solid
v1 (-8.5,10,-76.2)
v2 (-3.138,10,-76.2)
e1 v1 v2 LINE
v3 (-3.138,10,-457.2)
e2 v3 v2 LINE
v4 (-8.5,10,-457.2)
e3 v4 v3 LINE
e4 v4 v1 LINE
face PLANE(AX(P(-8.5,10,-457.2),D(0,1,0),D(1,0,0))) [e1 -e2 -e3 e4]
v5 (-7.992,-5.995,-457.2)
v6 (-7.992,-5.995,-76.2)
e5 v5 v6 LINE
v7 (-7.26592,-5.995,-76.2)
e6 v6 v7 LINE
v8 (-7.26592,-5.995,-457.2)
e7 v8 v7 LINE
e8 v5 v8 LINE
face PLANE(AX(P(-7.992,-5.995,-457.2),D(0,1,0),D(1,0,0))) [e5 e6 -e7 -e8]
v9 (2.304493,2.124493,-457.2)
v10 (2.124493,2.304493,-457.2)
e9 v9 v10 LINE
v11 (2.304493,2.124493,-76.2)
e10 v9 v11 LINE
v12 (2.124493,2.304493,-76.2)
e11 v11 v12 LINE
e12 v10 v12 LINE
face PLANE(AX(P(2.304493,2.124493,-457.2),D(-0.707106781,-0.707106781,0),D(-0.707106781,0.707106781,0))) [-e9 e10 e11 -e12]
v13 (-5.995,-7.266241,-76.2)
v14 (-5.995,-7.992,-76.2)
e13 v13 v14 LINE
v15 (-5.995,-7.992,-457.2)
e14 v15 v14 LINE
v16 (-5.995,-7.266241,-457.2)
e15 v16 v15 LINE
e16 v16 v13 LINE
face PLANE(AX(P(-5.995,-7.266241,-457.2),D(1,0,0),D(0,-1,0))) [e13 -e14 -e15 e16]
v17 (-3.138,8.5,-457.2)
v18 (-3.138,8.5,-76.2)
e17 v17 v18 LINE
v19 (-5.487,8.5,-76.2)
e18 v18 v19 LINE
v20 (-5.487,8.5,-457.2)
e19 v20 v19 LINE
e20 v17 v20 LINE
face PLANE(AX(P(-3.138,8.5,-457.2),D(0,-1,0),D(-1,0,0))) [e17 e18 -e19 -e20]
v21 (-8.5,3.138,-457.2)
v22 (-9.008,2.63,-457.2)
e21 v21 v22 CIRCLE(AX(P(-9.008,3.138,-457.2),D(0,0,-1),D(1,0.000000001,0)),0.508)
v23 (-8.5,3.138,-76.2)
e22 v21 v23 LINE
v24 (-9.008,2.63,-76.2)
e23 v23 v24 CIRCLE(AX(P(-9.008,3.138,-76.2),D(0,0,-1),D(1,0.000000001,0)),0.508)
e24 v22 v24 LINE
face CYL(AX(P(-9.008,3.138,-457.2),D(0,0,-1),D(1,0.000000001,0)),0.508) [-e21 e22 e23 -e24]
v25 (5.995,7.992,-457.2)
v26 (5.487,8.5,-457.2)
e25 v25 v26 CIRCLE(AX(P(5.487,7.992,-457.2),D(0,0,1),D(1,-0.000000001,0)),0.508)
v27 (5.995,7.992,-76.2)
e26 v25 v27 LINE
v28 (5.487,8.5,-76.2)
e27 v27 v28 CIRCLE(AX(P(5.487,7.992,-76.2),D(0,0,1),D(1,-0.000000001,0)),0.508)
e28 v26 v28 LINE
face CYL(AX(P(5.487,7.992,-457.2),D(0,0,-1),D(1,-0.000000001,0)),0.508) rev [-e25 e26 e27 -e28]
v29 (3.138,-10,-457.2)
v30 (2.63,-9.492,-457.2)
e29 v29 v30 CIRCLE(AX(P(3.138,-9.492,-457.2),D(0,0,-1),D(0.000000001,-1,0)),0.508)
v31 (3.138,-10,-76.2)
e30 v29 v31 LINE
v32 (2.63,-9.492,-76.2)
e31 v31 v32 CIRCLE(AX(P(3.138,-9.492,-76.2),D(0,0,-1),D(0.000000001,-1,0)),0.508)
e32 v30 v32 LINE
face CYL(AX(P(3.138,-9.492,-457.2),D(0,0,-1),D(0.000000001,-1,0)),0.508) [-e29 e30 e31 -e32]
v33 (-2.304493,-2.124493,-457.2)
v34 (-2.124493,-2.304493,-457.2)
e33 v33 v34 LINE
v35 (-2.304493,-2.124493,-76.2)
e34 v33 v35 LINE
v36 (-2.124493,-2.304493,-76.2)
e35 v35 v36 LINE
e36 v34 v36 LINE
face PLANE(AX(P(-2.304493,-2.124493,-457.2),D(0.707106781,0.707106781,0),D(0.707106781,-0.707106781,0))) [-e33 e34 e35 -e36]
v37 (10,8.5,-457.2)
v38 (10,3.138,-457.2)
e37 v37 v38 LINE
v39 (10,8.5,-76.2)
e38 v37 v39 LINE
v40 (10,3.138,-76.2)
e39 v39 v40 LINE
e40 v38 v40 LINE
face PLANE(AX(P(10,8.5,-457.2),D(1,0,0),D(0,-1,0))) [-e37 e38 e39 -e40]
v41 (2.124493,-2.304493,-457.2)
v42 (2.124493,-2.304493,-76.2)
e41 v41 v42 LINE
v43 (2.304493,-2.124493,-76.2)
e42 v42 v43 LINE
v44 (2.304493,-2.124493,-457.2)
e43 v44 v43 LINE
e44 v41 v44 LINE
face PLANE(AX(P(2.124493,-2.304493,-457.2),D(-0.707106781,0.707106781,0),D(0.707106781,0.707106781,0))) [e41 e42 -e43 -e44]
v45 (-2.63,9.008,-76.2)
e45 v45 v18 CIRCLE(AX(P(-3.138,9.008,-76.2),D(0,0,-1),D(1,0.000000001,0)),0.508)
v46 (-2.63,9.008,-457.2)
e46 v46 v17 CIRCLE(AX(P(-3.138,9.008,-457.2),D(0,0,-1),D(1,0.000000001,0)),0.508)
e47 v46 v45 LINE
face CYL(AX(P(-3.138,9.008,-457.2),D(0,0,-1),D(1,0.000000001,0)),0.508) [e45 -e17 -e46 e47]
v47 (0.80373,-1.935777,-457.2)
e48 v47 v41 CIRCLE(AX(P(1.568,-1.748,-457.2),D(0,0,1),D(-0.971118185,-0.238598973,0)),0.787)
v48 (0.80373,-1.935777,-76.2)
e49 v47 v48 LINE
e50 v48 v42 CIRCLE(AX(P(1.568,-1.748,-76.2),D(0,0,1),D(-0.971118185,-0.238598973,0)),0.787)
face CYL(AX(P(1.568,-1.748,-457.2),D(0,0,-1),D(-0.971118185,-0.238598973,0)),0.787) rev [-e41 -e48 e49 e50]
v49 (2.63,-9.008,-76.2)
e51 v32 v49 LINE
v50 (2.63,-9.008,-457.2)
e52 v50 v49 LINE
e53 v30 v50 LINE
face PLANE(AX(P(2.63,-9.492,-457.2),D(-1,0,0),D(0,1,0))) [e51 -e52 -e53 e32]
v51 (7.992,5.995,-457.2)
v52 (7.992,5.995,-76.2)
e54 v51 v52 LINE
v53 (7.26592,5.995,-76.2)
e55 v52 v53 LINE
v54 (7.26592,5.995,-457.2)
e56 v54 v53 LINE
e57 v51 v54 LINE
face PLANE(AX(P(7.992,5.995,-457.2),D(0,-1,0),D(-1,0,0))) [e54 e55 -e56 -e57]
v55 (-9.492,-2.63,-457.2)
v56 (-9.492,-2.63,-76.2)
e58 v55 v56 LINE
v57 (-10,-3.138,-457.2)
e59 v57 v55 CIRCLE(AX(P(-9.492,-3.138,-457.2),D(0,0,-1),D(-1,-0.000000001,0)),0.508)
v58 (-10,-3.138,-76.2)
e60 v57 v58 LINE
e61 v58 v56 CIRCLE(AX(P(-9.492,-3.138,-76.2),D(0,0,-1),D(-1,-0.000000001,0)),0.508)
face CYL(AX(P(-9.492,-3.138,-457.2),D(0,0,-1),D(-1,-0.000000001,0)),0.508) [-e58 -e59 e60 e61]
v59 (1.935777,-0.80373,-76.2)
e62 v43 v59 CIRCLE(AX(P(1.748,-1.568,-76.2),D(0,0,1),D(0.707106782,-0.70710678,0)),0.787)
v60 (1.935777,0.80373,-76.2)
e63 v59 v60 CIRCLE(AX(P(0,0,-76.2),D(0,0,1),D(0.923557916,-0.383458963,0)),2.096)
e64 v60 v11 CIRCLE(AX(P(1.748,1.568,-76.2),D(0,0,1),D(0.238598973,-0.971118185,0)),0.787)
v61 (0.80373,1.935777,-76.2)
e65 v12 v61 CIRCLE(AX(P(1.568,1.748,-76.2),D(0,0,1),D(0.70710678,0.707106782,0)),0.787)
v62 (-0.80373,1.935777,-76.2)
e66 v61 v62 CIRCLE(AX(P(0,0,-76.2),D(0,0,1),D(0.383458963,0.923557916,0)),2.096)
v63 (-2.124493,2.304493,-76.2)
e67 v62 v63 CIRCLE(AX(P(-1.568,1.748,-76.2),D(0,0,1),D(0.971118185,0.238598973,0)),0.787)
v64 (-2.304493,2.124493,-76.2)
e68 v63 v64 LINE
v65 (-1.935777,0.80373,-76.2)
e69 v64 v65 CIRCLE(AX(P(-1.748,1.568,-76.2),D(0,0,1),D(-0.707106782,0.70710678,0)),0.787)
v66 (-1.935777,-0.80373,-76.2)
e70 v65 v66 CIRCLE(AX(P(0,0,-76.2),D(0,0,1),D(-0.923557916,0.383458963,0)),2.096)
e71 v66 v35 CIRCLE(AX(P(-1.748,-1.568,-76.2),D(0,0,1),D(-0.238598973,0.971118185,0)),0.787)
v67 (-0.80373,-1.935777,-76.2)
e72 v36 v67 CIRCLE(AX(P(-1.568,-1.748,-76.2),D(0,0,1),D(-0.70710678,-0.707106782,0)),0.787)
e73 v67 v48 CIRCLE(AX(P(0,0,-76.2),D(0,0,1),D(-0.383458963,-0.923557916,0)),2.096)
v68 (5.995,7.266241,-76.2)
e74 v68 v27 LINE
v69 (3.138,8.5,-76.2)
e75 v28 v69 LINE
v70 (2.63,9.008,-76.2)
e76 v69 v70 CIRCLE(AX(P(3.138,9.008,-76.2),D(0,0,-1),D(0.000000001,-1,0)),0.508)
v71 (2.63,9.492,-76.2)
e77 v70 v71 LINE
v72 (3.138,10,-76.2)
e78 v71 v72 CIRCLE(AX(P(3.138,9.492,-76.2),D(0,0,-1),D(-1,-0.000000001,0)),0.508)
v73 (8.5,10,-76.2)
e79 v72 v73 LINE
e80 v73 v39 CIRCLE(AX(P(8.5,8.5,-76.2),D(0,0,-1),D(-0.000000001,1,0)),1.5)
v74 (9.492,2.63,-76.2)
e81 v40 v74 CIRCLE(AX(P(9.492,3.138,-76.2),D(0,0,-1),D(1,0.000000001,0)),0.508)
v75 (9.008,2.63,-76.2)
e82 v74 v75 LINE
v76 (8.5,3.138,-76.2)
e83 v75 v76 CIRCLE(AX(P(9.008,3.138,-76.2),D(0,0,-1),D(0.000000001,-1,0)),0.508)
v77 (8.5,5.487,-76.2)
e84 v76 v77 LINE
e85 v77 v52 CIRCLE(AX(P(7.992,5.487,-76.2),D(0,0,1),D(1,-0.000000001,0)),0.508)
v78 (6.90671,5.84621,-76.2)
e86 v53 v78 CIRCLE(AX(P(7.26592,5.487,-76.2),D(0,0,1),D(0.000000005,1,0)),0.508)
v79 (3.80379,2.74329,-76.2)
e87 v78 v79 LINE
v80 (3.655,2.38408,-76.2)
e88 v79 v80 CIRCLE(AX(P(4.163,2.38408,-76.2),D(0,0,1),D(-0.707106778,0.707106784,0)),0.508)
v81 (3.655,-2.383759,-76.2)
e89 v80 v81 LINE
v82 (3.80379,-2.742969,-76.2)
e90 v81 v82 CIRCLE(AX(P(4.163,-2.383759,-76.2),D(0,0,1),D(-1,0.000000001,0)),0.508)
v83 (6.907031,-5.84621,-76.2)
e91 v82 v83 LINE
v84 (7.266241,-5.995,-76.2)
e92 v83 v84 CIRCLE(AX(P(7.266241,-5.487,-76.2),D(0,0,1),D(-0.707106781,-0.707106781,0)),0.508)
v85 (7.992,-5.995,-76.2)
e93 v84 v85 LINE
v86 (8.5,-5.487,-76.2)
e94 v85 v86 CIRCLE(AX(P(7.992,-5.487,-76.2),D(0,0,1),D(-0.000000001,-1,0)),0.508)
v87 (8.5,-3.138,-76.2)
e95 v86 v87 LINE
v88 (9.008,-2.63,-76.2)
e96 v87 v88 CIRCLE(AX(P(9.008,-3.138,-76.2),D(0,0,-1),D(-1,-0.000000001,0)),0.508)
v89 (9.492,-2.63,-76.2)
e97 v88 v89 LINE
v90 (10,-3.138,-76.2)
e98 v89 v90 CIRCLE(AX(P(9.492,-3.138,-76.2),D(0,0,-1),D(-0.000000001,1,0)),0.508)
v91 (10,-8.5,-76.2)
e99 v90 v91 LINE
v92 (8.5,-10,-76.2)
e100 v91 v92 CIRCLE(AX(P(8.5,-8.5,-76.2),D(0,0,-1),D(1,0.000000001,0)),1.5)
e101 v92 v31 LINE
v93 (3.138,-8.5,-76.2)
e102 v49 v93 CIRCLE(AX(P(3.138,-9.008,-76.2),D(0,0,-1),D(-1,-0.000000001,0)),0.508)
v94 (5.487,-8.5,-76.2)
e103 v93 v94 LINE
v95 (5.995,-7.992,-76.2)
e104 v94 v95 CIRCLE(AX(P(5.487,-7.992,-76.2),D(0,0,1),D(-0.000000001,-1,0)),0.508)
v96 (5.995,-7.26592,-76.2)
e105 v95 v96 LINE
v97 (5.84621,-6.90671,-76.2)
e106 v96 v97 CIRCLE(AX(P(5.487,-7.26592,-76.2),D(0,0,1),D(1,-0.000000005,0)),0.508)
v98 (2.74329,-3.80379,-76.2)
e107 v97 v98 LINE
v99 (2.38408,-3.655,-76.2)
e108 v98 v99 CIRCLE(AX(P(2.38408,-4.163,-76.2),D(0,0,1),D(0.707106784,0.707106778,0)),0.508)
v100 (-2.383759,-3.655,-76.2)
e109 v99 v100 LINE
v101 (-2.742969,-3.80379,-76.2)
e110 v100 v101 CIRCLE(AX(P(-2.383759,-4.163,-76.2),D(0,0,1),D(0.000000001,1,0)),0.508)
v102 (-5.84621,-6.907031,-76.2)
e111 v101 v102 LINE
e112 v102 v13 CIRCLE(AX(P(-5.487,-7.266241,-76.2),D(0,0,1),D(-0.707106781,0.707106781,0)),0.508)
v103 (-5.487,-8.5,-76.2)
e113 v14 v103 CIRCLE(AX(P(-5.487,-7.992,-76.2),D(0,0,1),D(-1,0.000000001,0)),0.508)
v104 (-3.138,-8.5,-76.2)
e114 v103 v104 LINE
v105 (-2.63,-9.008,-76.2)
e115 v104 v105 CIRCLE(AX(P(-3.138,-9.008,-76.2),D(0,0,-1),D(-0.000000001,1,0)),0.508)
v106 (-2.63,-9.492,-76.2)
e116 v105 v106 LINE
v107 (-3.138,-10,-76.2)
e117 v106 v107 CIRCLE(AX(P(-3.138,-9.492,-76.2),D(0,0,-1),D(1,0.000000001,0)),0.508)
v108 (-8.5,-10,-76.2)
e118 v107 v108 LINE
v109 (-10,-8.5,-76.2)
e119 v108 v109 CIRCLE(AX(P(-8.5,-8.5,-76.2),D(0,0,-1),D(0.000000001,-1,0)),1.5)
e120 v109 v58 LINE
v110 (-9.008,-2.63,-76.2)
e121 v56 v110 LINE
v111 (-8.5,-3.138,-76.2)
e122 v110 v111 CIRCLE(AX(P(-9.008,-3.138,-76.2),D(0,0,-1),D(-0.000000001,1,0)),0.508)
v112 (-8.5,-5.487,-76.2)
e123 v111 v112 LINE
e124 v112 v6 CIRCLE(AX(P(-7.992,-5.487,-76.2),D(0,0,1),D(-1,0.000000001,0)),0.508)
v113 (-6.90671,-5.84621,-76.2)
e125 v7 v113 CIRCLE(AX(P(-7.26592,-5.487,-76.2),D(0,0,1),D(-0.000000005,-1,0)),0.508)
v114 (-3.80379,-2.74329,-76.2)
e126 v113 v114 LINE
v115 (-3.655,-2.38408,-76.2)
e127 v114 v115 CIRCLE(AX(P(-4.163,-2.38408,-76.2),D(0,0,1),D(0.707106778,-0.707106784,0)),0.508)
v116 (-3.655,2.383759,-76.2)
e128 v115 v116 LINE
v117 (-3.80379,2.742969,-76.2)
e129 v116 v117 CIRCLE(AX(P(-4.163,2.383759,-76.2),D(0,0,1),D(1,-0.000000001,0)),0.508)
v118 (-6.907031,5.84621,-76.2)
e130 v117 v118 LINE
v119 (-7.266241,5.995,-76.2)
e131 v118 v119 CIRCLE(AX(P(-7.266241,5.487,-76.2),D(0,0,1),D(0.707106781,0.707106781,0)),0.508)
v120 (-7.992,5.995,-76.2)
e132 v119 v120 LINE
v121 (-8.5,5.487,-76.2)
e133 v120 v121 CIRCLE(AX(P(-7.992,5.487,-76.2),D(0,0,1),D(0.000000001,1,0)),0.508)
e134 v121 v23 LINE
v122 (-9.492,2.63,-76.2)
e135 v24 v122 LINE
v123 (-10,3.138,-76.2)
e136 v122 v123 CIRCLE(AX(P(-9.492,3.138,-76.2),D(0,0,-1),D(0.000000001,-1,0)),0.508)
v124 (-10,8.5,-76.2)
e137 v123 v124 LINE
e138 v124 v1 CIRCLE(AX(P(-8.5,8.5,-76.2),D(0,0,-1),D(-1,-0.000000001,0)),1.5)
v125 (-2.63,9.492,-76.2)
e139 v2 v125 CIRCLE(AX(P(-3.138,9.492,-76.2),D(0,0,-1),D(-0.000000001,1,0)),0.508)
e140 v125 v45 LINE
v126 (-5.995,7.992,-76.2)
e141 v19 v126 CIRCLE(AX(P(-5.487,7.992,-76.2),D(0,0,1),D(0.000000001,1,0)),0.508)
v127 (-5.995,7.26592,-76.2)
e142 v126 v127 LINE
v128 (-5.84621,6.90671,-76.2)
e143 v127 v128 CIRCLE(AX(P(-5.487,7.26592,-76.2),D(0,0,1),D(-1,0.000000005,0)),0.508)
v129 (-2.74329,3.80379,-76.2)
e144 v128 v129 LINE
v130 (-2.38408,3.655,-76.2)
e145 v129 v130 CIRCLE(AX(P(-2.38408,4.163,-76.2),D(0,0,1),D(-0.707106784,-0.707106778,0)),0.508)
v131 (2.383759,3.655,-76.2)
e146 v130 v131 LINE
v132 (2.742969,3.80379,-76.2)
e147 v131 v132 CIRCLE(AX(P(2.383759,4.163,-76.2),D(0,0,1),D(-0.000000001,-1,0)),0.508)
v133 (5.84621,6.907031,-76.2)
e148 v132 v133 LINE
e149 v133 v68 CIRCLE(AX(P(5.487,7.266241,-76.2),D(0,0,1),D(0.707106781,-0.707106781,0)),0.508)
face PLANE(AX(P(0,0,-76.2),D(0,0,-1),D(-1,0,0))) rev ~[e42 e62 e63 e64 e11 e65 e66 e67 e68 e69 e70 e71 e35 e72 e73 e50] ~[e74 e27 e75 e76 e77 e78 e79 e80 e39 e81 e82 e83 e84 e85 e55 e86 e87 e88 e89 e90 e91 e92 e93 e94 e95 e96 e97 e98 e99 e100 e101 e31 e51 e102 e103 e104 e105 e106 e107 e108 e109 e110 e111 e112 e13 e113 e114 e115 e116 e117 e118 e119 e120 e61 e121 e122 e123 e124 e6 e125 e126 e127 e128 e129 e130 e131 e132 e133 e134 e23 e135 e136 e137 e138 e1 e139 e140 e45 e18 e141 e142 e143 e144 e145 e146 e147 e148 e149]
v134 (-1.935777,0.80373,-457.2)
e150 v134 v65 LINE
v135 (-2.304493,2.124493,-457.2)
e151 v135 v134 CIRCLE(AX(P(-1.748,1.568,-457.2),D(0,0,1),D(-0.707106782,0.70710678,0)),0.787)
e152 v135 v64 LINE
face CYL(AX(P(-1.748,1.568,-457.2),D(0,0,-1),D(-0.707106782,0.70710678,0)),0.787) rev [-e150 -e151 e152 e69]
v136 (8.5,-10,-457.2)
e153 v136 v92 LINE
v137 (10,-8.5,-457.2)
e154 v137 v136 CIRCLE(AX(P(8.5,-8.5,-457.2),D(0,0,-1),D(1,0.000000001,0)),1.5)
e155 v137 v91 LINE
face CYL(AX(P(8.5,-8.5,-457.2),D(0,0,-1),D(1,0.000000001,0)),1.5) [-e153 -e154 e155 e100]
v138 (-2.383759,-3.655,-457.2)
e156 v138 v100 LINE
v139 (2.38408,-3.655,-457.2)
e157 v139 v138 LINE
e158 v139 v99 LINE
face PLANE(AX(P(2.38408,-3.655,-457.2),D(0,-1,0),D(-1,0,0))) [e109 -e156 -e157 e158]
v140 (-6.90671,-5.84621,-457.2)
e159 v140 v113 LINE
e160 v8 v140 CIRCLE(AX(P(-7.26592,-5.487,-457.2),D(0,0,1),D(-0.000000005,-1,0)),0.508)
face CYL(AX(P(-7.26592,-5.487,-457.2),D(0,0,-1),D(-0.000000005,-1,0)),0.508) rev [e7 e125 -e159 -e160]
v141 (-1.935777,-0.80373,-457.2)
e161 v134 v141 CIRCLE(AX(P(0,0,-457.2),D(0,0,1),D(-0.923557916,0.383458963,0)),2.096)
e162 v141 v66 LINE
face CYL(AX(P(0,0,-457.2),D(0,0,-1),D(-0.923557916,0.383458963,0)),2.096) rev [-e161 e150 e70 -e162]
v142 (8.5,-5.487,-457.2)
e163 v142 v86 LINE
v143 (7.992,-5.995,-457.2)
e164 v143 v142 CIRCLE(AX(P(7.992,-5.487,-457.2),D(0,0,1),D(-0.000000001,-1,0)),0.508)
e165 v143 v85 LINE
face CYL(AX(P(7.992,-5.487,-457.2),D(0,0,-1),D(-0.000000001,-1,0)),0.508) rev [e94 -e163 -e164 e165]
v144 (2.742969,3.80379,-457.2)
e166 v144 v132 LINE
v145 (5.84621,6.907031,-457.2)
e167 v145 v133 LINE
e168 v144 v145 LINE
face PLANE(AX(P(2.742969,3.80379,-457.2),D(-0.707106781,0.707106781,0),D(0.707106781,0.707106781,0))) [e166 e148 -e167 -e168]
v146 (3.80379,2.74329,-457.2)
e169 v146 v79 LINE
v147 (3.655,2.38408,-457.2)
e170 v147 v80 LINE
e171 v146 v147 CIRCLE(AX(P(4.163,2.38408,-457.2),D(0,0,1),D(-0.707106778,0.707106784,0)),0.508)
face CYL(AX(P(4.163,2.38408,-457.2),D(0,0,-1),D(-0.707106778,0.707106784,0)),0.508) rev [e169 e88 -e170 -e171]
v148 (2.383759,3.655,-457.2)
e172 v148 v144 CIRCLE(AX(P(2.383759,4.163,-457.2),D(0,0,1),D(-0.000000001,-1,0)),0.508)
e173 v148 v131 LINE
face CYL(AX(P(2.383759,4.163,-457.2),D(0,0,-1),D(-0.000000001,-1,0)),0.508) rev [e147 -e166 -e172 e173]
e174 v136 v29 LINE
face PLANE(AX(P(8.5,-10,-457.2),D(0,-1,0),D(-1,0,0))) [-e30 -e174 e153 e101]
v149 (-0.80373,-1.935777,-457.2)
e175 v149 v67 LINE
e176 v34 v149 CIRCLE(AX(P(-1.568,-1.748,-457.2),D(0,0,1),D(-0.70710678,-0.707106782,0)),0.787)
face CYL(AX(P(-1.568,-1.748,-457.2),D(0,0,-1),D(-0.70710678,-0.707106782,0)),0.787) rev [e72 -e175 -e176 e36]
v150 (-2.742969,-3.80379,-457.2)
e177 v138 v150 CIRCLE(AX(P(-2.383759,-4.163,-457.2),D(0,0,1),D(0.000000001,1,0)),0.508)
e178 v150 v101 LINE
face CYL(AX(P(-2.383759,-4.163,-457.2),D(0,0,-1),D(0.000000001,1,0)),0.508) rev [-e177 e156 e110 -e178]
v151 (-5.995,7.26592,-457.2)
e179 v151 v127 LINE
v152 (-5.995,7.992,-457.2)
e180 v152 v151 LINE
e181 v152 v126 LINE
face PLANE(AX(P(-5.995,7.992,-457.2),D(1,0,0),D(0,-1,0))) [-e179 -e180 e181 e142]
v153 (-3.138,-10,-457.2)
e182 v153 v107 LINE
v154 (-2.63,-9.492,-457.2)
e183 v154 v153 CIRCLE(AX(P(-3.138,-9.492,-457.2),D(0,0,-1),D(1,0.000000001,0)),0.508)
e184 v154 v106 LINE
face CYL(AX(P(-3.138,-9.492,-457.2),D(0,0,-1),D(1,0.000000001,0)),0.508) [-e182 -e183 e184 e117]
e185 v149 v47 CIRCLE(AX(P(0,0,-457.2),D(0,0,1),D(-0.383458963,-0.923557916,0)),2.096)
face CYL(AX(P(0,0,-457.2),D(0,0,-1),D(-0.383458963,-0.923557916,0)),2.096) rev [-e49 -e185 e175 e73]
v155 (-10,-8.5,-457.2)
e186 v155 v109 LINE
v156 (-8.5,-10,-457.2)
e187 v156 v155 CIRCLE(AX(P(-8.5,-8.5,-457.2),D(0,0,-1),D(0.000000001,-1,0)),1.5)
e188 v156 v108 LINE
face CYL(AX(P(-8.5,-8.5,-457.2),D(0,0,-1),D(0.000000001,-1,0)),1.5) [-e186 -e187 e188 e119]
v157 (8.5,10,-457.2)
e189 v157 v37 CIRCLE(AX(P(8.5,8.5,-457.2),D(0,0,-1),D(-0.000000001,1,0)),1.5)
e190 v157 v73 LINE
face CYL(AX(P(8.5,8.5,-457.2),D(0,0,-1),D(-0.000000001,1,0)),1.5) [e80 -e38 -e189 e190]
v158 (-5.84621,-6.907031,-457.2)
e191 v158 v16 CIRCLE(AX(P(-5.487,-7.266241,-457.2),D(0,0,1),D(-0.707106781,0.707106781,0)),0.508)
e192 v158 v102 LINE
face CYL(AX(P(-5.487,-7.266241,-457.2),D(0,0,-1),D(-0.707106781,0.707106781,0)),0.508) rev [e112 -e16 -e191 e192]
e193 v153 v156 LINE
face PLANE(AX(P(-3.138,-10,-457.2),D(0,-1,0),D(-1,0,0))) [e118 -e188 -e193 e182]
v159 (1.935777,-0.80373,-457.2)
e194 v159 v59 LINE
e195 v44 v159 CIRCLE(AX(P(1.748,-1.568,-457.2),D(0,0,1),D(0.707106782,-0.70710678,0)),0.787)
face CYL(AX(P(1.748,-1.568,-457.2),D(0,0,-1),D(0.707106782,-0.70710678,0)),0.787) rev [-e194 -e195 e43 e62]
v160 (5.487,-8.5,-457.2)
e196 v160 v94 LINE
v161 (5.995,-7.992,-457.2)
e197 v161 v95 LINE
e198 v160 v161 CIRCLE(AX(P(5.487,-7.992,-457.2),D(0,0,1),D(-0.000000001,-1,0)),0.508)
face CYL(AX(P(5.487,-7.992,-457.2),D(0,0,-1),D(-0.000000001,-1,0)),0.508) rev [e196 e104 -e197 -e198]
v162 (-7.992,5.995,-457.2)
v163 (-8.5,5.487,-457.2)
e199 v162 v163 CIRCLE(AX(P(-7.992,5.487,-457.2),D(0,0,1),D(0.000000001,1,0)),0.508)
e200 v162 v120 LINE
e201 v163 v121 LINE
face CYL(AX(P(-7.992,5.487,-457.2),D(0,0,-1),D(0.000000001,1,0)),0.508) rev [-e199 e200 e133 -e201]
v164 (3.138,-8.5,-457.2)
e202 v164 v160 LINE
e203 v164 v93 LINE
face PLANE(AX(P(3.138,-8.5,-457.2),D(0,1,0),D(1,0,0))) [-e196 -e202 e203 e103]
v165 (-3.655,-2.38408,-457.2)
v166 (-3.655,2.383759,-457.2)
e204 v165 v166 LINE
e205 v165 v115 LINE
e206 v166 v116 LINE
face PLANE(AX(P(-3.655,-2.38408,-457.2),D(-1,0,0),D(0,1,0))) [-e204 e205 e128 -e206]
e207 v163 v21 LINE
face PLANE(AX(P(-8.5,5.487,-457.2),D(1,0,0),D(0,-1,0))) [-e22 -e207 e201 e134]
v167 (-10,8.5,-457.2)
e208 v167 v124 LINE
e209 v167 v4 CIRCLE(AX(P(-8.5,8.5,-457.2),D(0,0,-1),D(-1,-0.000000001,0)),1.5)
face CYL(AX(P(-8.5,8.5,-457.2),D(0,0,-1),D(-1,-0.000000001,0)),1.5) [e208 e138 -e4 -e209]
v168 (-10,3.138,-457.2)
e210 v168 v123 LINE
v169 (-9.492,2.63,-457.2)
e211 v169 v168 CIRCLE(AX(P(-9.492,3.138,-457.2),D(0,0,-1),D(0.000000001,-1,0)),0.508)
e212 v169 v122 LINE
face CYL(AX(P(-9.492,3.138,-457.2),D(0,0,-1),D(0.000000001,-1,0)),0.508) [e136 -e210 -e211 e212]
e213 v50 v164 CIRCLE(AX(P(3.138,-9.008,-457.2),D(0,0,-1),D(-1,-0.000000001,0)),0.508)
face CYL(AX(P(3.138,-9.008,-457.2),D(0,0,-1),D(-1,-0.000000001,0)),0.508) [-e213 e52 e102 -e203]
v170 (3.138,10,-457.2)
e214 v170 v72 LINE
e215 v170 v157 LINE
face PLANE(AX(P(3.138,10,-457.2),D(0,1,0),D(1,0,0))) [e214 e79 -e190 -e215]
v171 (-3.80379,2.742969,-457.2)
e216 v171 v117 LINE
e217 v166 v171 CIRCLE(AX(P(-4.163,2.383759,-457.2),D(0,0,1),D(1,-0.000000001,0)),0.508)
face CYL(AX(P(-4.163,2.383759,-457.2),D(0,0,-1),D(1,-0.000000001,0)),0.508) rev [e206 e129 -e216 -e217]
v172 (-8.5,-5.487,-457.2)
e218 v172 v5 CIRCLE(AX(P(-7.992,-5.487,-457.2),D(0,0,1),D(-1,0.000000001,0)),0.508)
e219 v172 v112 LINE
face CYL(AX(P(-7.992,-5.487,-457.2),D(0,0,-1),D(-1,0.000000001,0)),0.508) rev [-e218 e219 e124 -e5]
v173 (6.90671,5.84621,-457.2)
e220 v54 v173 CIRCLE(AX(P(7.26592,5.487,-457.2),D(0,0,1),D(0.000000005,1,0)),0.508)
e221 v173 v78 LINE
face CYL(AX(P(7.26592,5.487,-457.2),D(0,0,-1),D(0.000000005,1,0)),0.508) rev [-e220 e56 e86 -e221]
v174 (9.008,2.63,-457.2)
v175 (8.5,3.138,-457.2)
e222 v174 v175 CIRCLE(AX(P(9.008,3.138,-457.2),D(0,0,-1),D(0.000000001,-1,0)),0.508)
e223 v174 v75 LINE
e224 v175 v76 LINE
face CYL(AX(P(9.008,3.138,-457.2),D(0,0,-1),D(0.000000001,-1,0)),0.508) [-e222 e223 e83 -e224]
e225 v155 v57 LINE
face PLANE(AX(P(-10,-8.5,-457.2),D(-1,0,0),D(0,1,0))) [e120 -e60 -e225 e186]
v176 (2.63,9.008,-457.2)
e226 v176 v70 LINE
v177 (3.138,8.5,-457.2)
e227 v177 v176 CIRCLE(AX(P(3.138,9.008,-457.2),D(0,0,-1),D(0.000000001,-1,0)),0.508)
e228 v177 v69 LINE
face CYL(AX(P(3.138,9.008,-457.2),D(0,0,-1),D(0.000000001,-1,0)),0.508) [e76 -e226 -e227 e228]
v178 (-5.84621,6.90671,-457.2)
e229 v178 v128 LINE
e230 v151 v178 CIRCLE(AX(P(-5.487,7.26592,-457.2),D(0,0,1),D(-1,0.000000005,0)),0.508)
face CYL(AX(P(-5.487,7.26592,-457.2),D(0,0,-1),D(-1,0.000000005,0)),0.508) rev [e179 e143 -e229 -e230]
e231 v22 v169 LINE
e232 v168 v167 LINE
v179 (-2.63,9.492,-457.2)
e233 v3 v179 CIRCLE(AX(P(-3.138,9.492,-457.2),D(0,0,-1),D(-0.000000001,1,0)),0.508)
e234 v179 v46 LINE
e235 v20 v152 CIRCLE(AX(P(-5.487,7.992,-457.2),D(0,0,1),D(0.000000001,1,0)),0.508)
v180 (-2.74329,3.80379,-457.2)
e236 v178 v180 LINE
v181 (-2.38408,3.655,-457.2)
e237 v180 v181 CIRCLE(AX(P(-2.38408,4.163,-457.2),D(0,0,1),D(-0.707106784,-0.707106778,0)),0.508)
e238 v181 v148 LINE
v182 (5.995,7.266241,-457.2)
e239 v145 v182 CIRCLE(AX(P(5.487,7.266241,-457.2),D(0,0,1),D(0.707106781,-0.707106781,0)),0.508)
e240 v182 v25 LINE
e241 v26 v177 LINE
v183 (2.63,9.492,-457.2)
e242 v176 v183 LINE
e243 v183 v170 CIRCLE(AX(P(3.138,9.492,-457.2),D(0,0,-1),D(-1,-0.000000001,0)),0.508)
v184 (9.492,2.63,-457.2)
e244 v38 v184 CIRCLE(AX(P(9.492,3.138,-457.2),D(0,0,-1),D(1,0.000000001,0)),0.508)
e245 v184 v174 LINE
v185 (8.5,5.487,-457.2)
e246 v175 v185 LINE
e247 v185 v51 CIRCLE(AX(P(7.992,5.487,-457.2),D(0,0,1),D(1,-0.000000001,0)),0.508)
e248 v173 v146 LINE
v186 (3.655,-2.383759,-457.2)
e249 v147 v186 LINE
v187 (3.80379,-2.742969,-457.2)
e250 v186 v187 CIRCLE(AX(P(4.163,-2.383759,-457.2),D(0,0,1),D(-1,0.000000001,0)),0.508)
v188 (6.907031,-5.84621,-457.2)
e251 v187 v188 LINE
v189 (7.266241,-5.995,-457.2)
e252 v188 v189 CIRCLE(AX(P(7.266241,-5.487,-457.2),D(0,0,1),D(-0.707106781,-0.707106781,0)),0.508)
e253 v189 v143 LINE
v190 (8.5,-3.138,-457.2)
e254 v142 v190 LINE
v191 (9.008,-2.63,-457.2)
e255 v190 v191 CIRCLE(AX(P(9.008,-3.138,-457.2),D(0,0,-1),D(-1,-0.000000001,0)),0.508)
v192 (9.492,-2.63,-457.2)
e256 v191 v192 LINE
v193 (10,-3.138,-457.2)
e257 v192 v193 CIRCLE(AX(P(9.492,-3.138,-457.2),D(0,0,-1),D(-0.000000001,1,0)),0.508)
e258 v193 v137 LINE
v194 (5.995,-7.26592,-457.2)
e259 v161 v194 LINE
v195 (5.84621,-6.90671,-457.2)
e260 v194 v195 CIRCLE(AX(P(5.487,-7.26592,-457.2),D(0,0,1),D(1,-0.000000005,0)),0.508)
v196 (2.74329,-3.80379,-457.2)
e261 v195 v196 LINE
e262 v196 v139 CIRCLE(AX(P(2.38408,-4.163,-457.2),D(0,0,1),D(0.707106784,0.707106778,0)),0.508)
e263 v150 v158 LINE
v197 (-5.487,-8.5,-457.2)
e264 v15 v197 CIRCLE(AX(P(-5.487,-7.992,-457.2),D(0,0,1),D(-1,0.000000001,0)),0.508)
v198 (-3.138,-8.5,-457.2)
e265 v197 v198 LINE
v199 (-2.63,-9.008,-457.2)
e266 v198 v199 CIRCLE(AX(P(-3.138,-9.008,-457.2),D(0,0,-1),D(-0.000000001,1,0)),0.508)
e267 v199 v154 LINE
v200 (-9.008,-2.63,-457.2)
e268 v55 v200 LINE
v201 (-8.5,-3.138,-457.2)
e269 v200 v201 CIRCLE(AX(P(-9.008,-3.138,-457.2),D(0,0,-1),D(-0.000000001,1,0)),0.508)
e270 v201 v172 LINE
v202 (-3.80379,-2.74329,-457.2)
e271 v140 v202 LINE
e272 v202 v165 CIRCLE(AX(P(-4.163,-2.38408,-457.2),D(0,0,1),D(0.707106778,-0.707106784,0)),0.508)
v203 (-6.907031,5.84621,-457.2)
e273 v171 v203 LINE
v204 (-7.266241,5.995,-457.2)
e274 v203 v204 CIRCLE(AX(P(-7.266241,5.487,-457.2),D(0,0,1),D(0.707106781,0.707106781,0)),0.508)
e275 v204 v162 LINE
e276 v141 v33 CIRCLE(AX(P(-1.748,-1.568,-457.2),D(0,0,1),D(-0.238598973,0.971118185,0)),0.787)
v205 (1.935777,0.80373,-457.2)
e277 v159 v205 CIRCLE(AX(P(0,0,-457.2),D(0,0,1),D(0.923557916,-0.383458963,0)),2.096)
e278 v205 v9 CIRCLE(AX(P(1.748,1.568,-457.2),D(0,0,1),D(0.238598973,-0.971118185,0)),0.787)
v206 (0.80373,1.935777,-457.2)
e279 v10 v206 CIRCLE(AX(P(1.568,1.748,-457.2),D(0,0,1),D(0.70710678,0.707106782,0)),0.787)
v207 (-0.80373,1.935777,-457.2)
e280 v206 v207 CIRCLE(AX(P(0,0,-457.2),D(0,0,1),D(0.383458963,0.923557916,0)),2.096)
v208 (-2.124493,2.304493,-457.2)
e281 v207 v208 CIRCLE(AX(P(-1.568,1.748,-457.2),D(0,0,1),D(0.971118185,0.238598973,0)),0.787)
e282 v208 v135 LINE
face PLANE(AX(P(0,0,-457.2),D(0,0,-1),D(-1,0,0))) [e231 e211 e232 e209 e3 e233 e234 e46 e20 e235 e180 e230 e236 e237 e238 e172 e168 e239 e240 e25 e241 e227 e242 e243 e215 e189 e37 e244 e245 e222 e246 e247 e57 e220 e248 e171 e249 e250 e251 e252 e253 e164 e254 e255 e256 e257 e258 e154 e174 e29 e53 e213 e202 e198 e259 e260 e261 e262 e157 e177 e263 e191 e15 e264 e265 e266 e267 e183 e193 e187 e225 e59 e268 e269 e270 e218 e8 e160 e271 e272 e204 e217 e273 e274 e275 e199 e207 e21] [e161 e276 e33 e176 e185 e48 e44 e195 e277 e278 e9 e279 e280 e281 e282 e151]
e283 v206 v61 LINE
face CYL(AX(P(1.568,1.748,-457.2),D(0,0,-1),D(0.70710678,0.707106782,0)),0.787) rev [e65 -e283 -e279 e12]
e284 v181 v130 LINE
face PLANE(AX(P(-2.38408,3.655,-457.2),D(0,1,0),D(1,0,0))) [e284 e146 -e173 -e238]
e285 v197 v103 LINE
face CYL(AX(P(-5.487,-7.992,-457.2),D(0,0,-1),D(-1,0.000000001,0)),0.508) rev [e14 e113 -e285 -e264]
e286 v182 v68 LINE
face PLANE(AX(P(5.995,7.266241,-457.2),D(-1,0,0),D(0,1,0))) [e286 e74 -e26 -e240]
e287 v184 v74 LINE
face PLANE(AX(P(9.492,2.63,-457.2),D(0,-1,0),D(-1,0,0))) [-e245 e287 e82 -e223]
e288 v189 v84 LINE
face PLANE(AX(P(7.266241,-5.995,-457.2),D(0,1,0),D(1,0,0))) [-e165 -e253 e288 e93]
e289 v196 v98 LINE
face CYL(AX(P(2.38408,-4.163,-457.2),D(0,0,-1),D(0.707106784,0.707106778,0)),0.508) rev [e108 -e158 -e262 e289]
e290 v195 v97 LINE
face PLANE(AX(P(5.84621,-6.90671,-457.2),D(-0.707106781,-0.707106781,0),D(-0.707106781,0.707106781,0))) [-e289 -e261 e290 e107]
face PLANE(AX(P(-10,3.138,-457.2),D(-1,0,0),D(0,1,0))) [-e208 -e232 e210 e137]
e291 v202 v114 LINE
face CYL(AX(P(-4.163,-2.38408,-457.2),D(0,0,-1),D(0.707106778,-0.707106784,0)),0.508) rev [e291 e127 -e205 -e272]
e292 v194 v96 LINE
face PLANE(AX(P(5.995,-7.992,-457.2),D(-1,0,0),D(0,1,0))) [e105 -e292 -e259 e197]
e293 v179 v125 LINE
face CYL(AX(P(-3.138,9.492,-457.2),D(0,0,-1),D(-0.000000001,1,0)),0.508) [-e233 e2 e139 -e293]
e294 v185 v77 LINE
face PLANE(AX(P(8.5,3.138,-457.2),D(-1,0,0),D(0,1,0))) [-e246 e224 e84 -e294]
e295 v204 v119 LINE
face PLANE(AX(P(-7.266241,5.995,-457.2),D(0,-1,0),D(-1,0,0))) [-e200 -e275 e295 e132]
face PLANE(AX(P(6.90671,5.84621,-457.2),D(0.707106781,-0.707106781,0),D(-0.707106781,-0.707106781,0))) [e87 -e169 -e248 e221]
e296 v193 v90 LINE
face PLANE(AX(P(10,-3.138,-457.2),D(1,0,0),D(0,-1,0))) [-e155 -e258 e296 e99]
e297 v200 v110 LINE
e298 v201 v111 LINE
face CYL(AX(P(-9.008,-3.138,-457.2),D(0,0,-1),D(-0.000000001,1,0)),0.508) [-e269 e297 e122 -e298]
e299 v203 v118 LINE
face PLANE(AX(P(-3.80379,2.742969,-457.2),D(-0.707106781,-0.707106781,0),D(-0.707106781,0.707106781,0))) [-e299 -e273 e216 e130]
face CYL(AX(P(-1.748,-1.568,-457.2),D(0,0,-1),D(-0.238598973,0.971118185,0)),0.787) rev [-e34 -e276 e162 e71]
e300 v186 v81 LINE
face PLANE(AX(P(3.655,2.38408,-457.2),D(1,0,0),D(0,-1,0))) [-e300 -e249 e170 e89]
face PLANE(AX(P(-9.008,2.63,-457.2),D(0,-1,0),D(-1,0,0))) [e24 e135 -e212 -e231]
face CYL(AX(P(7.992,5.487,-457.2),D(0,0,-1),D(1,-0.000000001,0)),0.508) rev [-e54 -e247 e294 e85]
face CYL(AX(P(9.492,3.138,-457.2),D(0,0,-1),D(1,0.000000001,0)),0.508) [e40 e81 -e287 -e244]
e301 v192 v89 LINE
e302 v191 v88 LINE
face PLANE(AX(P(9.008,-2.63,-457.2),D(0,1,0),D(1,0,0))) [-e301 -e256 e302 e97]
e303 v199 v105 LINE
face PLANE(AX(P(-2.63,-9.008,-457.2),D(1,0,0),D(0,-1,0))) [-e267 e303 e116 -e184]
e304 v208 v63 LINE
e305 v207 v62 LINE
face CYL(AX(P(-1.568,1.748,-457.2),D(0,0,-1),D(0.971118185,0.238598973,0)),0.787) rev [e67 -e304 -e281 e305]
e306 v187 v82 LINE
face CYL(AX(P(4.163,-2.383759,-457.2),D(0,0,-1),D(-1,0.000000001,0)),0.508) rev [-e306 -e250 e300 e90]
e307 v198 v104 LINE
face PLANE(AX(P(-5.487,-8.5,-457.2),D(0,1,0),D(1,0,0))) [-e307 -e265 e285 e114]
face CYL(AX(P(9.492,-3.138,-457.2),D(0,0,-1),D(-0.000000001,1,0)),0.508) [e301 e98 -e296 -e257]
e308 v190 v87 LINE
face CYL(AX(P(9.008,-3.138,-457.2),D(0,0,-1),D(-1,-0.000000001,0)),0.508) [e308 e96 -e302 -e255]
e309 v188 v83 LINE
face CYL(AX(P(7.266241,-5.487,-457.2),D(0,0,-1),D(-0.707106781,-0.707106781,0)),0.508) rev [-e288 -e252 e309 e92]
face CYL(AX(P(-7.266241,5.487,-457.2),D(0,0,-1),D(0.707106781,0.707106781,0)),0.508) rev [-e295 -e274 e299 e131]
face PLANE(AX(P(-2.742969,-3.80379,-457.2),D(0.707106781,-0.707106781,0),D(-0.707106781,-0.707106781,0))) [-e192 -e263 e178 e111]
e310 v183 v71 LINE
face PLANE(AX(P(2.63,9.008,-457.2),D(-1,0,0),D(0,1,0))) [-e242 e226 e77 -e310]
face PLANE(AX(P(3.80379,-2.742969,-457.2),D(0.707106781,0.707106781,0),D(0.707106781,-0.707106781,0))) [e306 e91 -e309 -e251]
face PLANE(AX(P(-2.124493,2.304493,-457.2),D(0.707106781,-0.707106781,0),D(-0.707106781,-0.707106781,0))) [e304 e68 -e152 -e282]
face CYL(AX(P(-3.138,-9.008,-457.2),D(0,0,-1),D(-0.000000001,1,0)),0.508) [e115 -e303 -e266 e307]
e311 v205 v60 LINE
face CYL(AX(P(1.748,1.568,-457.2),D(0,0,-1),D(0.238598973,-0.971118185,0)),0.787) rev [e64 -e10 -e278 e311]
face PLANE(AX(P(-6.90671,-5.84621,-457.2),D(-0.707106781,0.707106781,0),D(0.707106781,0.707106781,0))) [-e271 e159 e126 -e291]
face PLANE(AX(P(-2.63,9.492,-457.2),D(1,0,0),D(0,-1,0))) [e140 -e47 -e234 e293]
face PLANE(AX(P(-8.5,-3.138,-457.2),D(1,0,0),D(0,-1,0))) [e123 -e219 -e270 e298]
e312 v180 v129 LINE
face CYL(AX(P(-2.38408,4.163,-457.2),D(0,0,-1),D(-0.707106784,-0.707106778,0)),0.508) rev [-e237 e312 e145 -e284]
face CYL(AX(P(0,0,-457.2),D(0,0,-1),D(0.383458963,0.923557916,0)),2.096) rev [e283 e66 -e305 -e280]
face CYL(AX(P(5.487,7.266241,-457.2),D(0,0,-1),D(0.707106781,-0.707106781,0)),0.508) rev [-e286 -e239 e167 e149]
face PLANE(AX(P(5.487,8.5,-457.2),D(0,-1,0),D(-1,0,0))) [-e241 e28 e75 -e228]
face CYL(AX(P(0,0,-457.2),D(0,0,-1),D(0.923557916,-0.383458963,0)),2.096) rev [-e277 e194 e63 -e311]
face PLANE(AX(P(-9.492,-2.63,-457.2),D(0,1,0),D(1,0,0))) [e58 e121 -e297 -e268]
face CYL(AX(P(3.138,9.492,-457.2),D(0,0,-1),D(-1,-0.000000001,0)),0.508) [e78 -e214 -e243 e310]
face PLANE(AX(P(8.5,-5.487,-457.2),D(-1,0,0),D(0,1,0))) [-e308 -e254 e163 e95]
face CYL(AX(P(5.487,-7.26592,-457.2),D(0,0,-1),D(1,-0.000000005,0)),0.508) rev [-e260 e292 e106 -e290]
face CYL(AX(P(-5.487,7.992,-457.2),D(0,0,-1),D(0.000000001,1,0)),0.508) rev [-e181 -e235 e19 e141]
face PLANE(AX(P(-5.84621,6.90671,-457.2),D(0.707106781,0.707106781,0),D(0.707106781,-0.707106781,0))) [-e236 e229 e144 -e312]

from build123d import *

# Parameters (mm, degrees)
BOSS_EXTRUDE1_DEPTH = 381


with BuildPart() as part:
    # Sketch1 → Boss-Extrude1 (new body)
    with BuildSketch(Plane(origin=(0, 0, -457.2), x_dir=(-1, 0, 0), z_dir=(0, 0, -1))):
        with BuildLine():
            Line((10, -8.5), (10, -3.138))
            ThreePointArc((10, -3.138), (9.851210245, -2.778789755), (9.492, -2.63))
            Line((9.492, -2.63), (9.008, -2.63))
            ThreePointArc((9.008, -2.63), (8.648789755, -2.778789755), (8.5, -3.138))
            Line((8.5, -3.138), (8.5, -5.487))
            ThreePointArc((8.5, -5.487), (8.351210245, -5.846210245), (7.992, -5.995))
            Line((7.992, -5.995), (7.26592049, -5.995))
            ThreePointArc((7.26592049, -5.995), (7.071517306, -5.956330803), (6.906710245, -5.846210245))
            Line((6.906710245, -5.846210245), (3.803789755, -2.743289755))
            ThreePointArc((3.803789755, -2.743289755), (3.693669197, -2.578482694), (3.655, -2.38407951))
            Line((3.655, -2.38407951), (3.655, 2.383759167))
            ThreePointArc((3.655, 2.383759167), (3.693669197, 2.57816235), (3.803789755, 2.742969412))
            Line((3.803789755, 2.742969412), (6.907030588, 5.846210245))
            ThreePointArc((6.907030588, 5.846210245), (7.07183765, 5.956330803), (7.266240833, 5.995))
            Line((7.266240833, 5.995), (7.992, 5.995))
            ThreePointArc((7.992, 5.995), (8.351210245, 5.846210245), (8.5, 5.487))
            Line((8.5, 5.487), (8.5, 3.138))
            ThreePointArc((8.5, 3.138), (8.648789755, 2.778789755), (9.008, 2.63))
            Line((9.008, 2.63), (9.492, 2.63))
            ThreePointArc((9.492, 2.63), (9.851210245, 2.778789755), (10, 3.138))
            Line((10, 3.138), (10, 8.5))
            ThreePointArc((10, 8.5), (9.560660172, 9.560660172), (8.5, 10))
            Line((8.5, 10), (3.138, 10))
            ThreePointArc((3.138, 10), (2.778789755, 9.851210245), (2.63, 9.492))
            Line((2.63, 9.492), (2.63, 9.008))
            ThreePointArc((2.63, 9.008), (2.778789755, 8.648789755), (3.138, 8.5))
            Line((3.138, 8.5), (5.487, 8.5))
            ThreePointArc((5.487, 8.5), (5.846210245, 8.351210245), (5.995, 7.992))
            Line((5.995, 7.992), (5.995, 7.26592049))
            ThreePointArc((5.995, 7.26592049), (5.956330803, 7.071517306), (5.846210245, 6.906710245))
            Line((5.846210245, 6.906710245), (2.743289755, 3.803789755))
            ThreePointArc((2.743289755, 3.803789755), (2.578482694, 3.693669197), (2.38407951, 3.655))
            Line((2.38407951, 3.655), (-2.383759167, 3.655))
            ThreePointArc((-2.383759167, 3.655), (-2.57816235, 3.693669197), (-2.742969412, 3.803789755))
            Line((-2.742969412, 3.803789755), (-5.846210245, 6.907030588))
            ThreePointArc((-5.846210245, 6.907030588), (-5.956330803, 7.07183765), (-5.995, 7.266240833))
            Line((-5.995, 7.266240833), (-5.995, 7.992))
            ThreePointArc((-5.995, 7.992), (-5.846210245, 8.351210245), (-5.487, 8.5))
            Line((-5.487, 8.5), (-3.138, 8.5))
            ThreePointArc((-3.138, 8.5), (-2.778789755, 8.648789755), (-2.63, 9.008))
            Line((-2.63, 9.008), (-2.63, 9.492))
            ThreePointArc((-2.63, 9.492), (-2.778789755, 9.851210245), (-3.138, 10))
            Line((-3.138, 10), (-8.5, 10))
            ThreePointArc((-8.5, 10), (-9.560660172, 9.560660172), (-10, 8.5))
            Line((-10, 8.5), (-10, 3.138))
            ThreePointArc((-10, 3.138), (-9.851210245, 2.778789755), (-9.492, 2.63))
            Line((-9.492, 2.63), (-9.008, 2.63))
            ThreePointArc((-9.008, 2.63), (-8.648789755, 2.778789755), (-8.5, 3.138))
            Line((-8.5, 3.138), (-8.5, 5.487))
            ThreePointArc((-8.5, 5.487), (-8.351210245, 5.846210245), (-7.992, 5.995))
            Line((-7.992, 5.995), (-7.26592049, 5.995))
            ThreePointArc((-7.26592049, 5.995), (-7.071517306, 5.956330803), (-6.906710245, 5.846210245))
            Line((-6.906710245, 5.846210245), (-3.803789755, 2.743289755))
            ThreePointArc((-3.803789755, 2.743289755), (-3.693669197, 2.578482694), (-3.655, 2.38407951))
            Line((-3.655, 2.38407951), (-3.655, -2.383759167))
            ThreePointArc((-3.655, -2.383759167), (-3.693669197, -2.57816235), (-3.803789755, -2.742969412))
            Line((-3.803789755, -2.742969412), (-6.907030588, -5.846210245))
            ThreePointArc((-6.907030588, -5.846210245), (-7.07183765, -5.956330803), (-7.266240833, -5.995))
            Line((-7.266240833, -5.995), (-7.992, -5.995))
            ThreePointArc((-7.992, -5.995), (-8.351210245, -5.846210245), (-8.5, -5.487))
            Line((-8.5, -5.487), (-8.5, -3.138))
            ThreePointArc((-8.5, -3.138), (-8.648789755, -2.778789755), (-9.008, -2.63))
            Line((-9.008, -2.63), (-9.492, -2.63))
            ThreePointArc((-9.492, -2.63), (-9.851210245, -2.778789755), (-10, -3.138))
            Line((-10, -3.138), (-10, -8.5))
            ThreePointArc((-10, -8.5), (-9.560660172, -9.560660172), (-8.5, -10))
            Line((-8.5, -10), (-3.138, -10))
            ThreePointArc((-3.138, -10), (-2.778789755, -9.851210245), (-2.63, -9.492))
            Line((-2.63, -9.492), (-2.63, -9.008))
            ThreePointArc((-2.63, -9.008), (-2.778789755, -8.648789755), (-3.138, -8.5))
            Line((-3.138, -8.5), (-5.487, -8.5))
            ThreePointArc((-5.487, -8.5), (-5.846210245, -8.351210245), (-5.995, -7.992))
            Line((-5.995, -7.992), (-5.995, -7.26592049))
            ThreePointArc((-5.995, -7.26592049), (-5.956330803, -7.071517306), (-5.846210245, -6.906710245))
            Line((-5.846210245, -6.906710245), (-2.743289755, -3.803789755))
            ThreePointArc((-2.743289755, -3.803789755), (-2.578482694, -3.693669197), (-2.38407951, -3.655))
            Line((-2.38407951, -3.655), (2.383759167, -3.655))
            ThreePointArc((2.383759167, -3.655), (2.57816235, -3.693669197), (2.742969412, -3.803789755))
            Line((2.742969412, -3.803789755), (5.846210245, -6.907030588))
            ThreePointArc((5.846210245, -6.907030588), (5.956330803, -7.07183765), (5.995, -7.266240833))
            Line((5.995, -7.266240833), (5.995, -7.992))
            ThreePointArc((5.995, -7.992), (5.846210245, -8.351210245), (5.487, -8.5))
            Line((5.487, -8.5), (3.138, -8.5))
            ThreePointArc((3.138, -8.5), (2.778789755, -8.648789755), (2.63, -9.008))
            Line((2.63, -9.008), (2.63, -9.492))
            ThreePointArc((2.63, -9.492), (2.778789755, -9.851210245), (3.138, -10))
            Line((3.138, -10), (8.5, -10))
            ThreePointArc((8.5, -10), (9.560660172, -9.560660172), (10, -8.5))
        make_face()
        with BuildLine():
            Line((2.304493037, -2.124493037), (2.124493037, -2.304493037))
            ThreePointArc((2.124493037, -2.304493037), (1.35638567, -2.506016078), (0.803729988, -1.935777391))
            ThreePointArc((0.803729988, -1.935777391), (0, -2.096), (-0.803729988, -1.935777391))
            ThreePointArc((-0.803729988, -1.935777391), (-1.35638567, -2.506016078), (-2.124493037, -2.304493037))
            Line((-2.124493037, -2.304493037), (-2.304493037, -2.124493037))
            ThreePointArc((-2.304493037, -2.124493037), (-2.506016078, -1.35638567), (-1.935777391, -0.803729988))
            ThreePointArc((-1.935777391, -0.803729988), (-2.096, 0), (-1.935777391, 0.803729988))
            ThreePointArc((-1.935777391, 0.803729988), (-2.506016078, 1.35638567), (-2.304493037, 2.124493037))
            Line((-2.304493037, 2.124493037), (-2.124493037, 2.304493037))
            ThreePointArc((-2.124493037, 2.304493037), (-1.35638567, 2.506016078), (-0.803729988, 1.935777391))
            ThreePointArc((-0.803729988, 1.935777391), (0, 2.096), (0.803729988, 1.935777391))
            ThreePointArc((0.803729988, 1.935777391), (1.35638567, 2.506016078), (2.124493037, 2.304493037))
            Line((2.124493037, 2.304493037), (2.304493037, 2.124493037))
            ThreePointArc((2.304493037, 2.124493037), (2.506016078, 1.35638567), (1.935777391, 0.803729988))
            ThreePointArc((1.935777391, 0.803729988), (2.096, 0), (1.935777391, -0.803729988))
            ThreePointArc((1.935777391, -0.803729988), (2.506016078, -1.35638567), (2.304493037, -2.124493037))
        make_face(mode=Mode.SUBTRACT)
    extrude(amount=-BOSS_EXTRUDE1_DEPTH)


solid = part.part
